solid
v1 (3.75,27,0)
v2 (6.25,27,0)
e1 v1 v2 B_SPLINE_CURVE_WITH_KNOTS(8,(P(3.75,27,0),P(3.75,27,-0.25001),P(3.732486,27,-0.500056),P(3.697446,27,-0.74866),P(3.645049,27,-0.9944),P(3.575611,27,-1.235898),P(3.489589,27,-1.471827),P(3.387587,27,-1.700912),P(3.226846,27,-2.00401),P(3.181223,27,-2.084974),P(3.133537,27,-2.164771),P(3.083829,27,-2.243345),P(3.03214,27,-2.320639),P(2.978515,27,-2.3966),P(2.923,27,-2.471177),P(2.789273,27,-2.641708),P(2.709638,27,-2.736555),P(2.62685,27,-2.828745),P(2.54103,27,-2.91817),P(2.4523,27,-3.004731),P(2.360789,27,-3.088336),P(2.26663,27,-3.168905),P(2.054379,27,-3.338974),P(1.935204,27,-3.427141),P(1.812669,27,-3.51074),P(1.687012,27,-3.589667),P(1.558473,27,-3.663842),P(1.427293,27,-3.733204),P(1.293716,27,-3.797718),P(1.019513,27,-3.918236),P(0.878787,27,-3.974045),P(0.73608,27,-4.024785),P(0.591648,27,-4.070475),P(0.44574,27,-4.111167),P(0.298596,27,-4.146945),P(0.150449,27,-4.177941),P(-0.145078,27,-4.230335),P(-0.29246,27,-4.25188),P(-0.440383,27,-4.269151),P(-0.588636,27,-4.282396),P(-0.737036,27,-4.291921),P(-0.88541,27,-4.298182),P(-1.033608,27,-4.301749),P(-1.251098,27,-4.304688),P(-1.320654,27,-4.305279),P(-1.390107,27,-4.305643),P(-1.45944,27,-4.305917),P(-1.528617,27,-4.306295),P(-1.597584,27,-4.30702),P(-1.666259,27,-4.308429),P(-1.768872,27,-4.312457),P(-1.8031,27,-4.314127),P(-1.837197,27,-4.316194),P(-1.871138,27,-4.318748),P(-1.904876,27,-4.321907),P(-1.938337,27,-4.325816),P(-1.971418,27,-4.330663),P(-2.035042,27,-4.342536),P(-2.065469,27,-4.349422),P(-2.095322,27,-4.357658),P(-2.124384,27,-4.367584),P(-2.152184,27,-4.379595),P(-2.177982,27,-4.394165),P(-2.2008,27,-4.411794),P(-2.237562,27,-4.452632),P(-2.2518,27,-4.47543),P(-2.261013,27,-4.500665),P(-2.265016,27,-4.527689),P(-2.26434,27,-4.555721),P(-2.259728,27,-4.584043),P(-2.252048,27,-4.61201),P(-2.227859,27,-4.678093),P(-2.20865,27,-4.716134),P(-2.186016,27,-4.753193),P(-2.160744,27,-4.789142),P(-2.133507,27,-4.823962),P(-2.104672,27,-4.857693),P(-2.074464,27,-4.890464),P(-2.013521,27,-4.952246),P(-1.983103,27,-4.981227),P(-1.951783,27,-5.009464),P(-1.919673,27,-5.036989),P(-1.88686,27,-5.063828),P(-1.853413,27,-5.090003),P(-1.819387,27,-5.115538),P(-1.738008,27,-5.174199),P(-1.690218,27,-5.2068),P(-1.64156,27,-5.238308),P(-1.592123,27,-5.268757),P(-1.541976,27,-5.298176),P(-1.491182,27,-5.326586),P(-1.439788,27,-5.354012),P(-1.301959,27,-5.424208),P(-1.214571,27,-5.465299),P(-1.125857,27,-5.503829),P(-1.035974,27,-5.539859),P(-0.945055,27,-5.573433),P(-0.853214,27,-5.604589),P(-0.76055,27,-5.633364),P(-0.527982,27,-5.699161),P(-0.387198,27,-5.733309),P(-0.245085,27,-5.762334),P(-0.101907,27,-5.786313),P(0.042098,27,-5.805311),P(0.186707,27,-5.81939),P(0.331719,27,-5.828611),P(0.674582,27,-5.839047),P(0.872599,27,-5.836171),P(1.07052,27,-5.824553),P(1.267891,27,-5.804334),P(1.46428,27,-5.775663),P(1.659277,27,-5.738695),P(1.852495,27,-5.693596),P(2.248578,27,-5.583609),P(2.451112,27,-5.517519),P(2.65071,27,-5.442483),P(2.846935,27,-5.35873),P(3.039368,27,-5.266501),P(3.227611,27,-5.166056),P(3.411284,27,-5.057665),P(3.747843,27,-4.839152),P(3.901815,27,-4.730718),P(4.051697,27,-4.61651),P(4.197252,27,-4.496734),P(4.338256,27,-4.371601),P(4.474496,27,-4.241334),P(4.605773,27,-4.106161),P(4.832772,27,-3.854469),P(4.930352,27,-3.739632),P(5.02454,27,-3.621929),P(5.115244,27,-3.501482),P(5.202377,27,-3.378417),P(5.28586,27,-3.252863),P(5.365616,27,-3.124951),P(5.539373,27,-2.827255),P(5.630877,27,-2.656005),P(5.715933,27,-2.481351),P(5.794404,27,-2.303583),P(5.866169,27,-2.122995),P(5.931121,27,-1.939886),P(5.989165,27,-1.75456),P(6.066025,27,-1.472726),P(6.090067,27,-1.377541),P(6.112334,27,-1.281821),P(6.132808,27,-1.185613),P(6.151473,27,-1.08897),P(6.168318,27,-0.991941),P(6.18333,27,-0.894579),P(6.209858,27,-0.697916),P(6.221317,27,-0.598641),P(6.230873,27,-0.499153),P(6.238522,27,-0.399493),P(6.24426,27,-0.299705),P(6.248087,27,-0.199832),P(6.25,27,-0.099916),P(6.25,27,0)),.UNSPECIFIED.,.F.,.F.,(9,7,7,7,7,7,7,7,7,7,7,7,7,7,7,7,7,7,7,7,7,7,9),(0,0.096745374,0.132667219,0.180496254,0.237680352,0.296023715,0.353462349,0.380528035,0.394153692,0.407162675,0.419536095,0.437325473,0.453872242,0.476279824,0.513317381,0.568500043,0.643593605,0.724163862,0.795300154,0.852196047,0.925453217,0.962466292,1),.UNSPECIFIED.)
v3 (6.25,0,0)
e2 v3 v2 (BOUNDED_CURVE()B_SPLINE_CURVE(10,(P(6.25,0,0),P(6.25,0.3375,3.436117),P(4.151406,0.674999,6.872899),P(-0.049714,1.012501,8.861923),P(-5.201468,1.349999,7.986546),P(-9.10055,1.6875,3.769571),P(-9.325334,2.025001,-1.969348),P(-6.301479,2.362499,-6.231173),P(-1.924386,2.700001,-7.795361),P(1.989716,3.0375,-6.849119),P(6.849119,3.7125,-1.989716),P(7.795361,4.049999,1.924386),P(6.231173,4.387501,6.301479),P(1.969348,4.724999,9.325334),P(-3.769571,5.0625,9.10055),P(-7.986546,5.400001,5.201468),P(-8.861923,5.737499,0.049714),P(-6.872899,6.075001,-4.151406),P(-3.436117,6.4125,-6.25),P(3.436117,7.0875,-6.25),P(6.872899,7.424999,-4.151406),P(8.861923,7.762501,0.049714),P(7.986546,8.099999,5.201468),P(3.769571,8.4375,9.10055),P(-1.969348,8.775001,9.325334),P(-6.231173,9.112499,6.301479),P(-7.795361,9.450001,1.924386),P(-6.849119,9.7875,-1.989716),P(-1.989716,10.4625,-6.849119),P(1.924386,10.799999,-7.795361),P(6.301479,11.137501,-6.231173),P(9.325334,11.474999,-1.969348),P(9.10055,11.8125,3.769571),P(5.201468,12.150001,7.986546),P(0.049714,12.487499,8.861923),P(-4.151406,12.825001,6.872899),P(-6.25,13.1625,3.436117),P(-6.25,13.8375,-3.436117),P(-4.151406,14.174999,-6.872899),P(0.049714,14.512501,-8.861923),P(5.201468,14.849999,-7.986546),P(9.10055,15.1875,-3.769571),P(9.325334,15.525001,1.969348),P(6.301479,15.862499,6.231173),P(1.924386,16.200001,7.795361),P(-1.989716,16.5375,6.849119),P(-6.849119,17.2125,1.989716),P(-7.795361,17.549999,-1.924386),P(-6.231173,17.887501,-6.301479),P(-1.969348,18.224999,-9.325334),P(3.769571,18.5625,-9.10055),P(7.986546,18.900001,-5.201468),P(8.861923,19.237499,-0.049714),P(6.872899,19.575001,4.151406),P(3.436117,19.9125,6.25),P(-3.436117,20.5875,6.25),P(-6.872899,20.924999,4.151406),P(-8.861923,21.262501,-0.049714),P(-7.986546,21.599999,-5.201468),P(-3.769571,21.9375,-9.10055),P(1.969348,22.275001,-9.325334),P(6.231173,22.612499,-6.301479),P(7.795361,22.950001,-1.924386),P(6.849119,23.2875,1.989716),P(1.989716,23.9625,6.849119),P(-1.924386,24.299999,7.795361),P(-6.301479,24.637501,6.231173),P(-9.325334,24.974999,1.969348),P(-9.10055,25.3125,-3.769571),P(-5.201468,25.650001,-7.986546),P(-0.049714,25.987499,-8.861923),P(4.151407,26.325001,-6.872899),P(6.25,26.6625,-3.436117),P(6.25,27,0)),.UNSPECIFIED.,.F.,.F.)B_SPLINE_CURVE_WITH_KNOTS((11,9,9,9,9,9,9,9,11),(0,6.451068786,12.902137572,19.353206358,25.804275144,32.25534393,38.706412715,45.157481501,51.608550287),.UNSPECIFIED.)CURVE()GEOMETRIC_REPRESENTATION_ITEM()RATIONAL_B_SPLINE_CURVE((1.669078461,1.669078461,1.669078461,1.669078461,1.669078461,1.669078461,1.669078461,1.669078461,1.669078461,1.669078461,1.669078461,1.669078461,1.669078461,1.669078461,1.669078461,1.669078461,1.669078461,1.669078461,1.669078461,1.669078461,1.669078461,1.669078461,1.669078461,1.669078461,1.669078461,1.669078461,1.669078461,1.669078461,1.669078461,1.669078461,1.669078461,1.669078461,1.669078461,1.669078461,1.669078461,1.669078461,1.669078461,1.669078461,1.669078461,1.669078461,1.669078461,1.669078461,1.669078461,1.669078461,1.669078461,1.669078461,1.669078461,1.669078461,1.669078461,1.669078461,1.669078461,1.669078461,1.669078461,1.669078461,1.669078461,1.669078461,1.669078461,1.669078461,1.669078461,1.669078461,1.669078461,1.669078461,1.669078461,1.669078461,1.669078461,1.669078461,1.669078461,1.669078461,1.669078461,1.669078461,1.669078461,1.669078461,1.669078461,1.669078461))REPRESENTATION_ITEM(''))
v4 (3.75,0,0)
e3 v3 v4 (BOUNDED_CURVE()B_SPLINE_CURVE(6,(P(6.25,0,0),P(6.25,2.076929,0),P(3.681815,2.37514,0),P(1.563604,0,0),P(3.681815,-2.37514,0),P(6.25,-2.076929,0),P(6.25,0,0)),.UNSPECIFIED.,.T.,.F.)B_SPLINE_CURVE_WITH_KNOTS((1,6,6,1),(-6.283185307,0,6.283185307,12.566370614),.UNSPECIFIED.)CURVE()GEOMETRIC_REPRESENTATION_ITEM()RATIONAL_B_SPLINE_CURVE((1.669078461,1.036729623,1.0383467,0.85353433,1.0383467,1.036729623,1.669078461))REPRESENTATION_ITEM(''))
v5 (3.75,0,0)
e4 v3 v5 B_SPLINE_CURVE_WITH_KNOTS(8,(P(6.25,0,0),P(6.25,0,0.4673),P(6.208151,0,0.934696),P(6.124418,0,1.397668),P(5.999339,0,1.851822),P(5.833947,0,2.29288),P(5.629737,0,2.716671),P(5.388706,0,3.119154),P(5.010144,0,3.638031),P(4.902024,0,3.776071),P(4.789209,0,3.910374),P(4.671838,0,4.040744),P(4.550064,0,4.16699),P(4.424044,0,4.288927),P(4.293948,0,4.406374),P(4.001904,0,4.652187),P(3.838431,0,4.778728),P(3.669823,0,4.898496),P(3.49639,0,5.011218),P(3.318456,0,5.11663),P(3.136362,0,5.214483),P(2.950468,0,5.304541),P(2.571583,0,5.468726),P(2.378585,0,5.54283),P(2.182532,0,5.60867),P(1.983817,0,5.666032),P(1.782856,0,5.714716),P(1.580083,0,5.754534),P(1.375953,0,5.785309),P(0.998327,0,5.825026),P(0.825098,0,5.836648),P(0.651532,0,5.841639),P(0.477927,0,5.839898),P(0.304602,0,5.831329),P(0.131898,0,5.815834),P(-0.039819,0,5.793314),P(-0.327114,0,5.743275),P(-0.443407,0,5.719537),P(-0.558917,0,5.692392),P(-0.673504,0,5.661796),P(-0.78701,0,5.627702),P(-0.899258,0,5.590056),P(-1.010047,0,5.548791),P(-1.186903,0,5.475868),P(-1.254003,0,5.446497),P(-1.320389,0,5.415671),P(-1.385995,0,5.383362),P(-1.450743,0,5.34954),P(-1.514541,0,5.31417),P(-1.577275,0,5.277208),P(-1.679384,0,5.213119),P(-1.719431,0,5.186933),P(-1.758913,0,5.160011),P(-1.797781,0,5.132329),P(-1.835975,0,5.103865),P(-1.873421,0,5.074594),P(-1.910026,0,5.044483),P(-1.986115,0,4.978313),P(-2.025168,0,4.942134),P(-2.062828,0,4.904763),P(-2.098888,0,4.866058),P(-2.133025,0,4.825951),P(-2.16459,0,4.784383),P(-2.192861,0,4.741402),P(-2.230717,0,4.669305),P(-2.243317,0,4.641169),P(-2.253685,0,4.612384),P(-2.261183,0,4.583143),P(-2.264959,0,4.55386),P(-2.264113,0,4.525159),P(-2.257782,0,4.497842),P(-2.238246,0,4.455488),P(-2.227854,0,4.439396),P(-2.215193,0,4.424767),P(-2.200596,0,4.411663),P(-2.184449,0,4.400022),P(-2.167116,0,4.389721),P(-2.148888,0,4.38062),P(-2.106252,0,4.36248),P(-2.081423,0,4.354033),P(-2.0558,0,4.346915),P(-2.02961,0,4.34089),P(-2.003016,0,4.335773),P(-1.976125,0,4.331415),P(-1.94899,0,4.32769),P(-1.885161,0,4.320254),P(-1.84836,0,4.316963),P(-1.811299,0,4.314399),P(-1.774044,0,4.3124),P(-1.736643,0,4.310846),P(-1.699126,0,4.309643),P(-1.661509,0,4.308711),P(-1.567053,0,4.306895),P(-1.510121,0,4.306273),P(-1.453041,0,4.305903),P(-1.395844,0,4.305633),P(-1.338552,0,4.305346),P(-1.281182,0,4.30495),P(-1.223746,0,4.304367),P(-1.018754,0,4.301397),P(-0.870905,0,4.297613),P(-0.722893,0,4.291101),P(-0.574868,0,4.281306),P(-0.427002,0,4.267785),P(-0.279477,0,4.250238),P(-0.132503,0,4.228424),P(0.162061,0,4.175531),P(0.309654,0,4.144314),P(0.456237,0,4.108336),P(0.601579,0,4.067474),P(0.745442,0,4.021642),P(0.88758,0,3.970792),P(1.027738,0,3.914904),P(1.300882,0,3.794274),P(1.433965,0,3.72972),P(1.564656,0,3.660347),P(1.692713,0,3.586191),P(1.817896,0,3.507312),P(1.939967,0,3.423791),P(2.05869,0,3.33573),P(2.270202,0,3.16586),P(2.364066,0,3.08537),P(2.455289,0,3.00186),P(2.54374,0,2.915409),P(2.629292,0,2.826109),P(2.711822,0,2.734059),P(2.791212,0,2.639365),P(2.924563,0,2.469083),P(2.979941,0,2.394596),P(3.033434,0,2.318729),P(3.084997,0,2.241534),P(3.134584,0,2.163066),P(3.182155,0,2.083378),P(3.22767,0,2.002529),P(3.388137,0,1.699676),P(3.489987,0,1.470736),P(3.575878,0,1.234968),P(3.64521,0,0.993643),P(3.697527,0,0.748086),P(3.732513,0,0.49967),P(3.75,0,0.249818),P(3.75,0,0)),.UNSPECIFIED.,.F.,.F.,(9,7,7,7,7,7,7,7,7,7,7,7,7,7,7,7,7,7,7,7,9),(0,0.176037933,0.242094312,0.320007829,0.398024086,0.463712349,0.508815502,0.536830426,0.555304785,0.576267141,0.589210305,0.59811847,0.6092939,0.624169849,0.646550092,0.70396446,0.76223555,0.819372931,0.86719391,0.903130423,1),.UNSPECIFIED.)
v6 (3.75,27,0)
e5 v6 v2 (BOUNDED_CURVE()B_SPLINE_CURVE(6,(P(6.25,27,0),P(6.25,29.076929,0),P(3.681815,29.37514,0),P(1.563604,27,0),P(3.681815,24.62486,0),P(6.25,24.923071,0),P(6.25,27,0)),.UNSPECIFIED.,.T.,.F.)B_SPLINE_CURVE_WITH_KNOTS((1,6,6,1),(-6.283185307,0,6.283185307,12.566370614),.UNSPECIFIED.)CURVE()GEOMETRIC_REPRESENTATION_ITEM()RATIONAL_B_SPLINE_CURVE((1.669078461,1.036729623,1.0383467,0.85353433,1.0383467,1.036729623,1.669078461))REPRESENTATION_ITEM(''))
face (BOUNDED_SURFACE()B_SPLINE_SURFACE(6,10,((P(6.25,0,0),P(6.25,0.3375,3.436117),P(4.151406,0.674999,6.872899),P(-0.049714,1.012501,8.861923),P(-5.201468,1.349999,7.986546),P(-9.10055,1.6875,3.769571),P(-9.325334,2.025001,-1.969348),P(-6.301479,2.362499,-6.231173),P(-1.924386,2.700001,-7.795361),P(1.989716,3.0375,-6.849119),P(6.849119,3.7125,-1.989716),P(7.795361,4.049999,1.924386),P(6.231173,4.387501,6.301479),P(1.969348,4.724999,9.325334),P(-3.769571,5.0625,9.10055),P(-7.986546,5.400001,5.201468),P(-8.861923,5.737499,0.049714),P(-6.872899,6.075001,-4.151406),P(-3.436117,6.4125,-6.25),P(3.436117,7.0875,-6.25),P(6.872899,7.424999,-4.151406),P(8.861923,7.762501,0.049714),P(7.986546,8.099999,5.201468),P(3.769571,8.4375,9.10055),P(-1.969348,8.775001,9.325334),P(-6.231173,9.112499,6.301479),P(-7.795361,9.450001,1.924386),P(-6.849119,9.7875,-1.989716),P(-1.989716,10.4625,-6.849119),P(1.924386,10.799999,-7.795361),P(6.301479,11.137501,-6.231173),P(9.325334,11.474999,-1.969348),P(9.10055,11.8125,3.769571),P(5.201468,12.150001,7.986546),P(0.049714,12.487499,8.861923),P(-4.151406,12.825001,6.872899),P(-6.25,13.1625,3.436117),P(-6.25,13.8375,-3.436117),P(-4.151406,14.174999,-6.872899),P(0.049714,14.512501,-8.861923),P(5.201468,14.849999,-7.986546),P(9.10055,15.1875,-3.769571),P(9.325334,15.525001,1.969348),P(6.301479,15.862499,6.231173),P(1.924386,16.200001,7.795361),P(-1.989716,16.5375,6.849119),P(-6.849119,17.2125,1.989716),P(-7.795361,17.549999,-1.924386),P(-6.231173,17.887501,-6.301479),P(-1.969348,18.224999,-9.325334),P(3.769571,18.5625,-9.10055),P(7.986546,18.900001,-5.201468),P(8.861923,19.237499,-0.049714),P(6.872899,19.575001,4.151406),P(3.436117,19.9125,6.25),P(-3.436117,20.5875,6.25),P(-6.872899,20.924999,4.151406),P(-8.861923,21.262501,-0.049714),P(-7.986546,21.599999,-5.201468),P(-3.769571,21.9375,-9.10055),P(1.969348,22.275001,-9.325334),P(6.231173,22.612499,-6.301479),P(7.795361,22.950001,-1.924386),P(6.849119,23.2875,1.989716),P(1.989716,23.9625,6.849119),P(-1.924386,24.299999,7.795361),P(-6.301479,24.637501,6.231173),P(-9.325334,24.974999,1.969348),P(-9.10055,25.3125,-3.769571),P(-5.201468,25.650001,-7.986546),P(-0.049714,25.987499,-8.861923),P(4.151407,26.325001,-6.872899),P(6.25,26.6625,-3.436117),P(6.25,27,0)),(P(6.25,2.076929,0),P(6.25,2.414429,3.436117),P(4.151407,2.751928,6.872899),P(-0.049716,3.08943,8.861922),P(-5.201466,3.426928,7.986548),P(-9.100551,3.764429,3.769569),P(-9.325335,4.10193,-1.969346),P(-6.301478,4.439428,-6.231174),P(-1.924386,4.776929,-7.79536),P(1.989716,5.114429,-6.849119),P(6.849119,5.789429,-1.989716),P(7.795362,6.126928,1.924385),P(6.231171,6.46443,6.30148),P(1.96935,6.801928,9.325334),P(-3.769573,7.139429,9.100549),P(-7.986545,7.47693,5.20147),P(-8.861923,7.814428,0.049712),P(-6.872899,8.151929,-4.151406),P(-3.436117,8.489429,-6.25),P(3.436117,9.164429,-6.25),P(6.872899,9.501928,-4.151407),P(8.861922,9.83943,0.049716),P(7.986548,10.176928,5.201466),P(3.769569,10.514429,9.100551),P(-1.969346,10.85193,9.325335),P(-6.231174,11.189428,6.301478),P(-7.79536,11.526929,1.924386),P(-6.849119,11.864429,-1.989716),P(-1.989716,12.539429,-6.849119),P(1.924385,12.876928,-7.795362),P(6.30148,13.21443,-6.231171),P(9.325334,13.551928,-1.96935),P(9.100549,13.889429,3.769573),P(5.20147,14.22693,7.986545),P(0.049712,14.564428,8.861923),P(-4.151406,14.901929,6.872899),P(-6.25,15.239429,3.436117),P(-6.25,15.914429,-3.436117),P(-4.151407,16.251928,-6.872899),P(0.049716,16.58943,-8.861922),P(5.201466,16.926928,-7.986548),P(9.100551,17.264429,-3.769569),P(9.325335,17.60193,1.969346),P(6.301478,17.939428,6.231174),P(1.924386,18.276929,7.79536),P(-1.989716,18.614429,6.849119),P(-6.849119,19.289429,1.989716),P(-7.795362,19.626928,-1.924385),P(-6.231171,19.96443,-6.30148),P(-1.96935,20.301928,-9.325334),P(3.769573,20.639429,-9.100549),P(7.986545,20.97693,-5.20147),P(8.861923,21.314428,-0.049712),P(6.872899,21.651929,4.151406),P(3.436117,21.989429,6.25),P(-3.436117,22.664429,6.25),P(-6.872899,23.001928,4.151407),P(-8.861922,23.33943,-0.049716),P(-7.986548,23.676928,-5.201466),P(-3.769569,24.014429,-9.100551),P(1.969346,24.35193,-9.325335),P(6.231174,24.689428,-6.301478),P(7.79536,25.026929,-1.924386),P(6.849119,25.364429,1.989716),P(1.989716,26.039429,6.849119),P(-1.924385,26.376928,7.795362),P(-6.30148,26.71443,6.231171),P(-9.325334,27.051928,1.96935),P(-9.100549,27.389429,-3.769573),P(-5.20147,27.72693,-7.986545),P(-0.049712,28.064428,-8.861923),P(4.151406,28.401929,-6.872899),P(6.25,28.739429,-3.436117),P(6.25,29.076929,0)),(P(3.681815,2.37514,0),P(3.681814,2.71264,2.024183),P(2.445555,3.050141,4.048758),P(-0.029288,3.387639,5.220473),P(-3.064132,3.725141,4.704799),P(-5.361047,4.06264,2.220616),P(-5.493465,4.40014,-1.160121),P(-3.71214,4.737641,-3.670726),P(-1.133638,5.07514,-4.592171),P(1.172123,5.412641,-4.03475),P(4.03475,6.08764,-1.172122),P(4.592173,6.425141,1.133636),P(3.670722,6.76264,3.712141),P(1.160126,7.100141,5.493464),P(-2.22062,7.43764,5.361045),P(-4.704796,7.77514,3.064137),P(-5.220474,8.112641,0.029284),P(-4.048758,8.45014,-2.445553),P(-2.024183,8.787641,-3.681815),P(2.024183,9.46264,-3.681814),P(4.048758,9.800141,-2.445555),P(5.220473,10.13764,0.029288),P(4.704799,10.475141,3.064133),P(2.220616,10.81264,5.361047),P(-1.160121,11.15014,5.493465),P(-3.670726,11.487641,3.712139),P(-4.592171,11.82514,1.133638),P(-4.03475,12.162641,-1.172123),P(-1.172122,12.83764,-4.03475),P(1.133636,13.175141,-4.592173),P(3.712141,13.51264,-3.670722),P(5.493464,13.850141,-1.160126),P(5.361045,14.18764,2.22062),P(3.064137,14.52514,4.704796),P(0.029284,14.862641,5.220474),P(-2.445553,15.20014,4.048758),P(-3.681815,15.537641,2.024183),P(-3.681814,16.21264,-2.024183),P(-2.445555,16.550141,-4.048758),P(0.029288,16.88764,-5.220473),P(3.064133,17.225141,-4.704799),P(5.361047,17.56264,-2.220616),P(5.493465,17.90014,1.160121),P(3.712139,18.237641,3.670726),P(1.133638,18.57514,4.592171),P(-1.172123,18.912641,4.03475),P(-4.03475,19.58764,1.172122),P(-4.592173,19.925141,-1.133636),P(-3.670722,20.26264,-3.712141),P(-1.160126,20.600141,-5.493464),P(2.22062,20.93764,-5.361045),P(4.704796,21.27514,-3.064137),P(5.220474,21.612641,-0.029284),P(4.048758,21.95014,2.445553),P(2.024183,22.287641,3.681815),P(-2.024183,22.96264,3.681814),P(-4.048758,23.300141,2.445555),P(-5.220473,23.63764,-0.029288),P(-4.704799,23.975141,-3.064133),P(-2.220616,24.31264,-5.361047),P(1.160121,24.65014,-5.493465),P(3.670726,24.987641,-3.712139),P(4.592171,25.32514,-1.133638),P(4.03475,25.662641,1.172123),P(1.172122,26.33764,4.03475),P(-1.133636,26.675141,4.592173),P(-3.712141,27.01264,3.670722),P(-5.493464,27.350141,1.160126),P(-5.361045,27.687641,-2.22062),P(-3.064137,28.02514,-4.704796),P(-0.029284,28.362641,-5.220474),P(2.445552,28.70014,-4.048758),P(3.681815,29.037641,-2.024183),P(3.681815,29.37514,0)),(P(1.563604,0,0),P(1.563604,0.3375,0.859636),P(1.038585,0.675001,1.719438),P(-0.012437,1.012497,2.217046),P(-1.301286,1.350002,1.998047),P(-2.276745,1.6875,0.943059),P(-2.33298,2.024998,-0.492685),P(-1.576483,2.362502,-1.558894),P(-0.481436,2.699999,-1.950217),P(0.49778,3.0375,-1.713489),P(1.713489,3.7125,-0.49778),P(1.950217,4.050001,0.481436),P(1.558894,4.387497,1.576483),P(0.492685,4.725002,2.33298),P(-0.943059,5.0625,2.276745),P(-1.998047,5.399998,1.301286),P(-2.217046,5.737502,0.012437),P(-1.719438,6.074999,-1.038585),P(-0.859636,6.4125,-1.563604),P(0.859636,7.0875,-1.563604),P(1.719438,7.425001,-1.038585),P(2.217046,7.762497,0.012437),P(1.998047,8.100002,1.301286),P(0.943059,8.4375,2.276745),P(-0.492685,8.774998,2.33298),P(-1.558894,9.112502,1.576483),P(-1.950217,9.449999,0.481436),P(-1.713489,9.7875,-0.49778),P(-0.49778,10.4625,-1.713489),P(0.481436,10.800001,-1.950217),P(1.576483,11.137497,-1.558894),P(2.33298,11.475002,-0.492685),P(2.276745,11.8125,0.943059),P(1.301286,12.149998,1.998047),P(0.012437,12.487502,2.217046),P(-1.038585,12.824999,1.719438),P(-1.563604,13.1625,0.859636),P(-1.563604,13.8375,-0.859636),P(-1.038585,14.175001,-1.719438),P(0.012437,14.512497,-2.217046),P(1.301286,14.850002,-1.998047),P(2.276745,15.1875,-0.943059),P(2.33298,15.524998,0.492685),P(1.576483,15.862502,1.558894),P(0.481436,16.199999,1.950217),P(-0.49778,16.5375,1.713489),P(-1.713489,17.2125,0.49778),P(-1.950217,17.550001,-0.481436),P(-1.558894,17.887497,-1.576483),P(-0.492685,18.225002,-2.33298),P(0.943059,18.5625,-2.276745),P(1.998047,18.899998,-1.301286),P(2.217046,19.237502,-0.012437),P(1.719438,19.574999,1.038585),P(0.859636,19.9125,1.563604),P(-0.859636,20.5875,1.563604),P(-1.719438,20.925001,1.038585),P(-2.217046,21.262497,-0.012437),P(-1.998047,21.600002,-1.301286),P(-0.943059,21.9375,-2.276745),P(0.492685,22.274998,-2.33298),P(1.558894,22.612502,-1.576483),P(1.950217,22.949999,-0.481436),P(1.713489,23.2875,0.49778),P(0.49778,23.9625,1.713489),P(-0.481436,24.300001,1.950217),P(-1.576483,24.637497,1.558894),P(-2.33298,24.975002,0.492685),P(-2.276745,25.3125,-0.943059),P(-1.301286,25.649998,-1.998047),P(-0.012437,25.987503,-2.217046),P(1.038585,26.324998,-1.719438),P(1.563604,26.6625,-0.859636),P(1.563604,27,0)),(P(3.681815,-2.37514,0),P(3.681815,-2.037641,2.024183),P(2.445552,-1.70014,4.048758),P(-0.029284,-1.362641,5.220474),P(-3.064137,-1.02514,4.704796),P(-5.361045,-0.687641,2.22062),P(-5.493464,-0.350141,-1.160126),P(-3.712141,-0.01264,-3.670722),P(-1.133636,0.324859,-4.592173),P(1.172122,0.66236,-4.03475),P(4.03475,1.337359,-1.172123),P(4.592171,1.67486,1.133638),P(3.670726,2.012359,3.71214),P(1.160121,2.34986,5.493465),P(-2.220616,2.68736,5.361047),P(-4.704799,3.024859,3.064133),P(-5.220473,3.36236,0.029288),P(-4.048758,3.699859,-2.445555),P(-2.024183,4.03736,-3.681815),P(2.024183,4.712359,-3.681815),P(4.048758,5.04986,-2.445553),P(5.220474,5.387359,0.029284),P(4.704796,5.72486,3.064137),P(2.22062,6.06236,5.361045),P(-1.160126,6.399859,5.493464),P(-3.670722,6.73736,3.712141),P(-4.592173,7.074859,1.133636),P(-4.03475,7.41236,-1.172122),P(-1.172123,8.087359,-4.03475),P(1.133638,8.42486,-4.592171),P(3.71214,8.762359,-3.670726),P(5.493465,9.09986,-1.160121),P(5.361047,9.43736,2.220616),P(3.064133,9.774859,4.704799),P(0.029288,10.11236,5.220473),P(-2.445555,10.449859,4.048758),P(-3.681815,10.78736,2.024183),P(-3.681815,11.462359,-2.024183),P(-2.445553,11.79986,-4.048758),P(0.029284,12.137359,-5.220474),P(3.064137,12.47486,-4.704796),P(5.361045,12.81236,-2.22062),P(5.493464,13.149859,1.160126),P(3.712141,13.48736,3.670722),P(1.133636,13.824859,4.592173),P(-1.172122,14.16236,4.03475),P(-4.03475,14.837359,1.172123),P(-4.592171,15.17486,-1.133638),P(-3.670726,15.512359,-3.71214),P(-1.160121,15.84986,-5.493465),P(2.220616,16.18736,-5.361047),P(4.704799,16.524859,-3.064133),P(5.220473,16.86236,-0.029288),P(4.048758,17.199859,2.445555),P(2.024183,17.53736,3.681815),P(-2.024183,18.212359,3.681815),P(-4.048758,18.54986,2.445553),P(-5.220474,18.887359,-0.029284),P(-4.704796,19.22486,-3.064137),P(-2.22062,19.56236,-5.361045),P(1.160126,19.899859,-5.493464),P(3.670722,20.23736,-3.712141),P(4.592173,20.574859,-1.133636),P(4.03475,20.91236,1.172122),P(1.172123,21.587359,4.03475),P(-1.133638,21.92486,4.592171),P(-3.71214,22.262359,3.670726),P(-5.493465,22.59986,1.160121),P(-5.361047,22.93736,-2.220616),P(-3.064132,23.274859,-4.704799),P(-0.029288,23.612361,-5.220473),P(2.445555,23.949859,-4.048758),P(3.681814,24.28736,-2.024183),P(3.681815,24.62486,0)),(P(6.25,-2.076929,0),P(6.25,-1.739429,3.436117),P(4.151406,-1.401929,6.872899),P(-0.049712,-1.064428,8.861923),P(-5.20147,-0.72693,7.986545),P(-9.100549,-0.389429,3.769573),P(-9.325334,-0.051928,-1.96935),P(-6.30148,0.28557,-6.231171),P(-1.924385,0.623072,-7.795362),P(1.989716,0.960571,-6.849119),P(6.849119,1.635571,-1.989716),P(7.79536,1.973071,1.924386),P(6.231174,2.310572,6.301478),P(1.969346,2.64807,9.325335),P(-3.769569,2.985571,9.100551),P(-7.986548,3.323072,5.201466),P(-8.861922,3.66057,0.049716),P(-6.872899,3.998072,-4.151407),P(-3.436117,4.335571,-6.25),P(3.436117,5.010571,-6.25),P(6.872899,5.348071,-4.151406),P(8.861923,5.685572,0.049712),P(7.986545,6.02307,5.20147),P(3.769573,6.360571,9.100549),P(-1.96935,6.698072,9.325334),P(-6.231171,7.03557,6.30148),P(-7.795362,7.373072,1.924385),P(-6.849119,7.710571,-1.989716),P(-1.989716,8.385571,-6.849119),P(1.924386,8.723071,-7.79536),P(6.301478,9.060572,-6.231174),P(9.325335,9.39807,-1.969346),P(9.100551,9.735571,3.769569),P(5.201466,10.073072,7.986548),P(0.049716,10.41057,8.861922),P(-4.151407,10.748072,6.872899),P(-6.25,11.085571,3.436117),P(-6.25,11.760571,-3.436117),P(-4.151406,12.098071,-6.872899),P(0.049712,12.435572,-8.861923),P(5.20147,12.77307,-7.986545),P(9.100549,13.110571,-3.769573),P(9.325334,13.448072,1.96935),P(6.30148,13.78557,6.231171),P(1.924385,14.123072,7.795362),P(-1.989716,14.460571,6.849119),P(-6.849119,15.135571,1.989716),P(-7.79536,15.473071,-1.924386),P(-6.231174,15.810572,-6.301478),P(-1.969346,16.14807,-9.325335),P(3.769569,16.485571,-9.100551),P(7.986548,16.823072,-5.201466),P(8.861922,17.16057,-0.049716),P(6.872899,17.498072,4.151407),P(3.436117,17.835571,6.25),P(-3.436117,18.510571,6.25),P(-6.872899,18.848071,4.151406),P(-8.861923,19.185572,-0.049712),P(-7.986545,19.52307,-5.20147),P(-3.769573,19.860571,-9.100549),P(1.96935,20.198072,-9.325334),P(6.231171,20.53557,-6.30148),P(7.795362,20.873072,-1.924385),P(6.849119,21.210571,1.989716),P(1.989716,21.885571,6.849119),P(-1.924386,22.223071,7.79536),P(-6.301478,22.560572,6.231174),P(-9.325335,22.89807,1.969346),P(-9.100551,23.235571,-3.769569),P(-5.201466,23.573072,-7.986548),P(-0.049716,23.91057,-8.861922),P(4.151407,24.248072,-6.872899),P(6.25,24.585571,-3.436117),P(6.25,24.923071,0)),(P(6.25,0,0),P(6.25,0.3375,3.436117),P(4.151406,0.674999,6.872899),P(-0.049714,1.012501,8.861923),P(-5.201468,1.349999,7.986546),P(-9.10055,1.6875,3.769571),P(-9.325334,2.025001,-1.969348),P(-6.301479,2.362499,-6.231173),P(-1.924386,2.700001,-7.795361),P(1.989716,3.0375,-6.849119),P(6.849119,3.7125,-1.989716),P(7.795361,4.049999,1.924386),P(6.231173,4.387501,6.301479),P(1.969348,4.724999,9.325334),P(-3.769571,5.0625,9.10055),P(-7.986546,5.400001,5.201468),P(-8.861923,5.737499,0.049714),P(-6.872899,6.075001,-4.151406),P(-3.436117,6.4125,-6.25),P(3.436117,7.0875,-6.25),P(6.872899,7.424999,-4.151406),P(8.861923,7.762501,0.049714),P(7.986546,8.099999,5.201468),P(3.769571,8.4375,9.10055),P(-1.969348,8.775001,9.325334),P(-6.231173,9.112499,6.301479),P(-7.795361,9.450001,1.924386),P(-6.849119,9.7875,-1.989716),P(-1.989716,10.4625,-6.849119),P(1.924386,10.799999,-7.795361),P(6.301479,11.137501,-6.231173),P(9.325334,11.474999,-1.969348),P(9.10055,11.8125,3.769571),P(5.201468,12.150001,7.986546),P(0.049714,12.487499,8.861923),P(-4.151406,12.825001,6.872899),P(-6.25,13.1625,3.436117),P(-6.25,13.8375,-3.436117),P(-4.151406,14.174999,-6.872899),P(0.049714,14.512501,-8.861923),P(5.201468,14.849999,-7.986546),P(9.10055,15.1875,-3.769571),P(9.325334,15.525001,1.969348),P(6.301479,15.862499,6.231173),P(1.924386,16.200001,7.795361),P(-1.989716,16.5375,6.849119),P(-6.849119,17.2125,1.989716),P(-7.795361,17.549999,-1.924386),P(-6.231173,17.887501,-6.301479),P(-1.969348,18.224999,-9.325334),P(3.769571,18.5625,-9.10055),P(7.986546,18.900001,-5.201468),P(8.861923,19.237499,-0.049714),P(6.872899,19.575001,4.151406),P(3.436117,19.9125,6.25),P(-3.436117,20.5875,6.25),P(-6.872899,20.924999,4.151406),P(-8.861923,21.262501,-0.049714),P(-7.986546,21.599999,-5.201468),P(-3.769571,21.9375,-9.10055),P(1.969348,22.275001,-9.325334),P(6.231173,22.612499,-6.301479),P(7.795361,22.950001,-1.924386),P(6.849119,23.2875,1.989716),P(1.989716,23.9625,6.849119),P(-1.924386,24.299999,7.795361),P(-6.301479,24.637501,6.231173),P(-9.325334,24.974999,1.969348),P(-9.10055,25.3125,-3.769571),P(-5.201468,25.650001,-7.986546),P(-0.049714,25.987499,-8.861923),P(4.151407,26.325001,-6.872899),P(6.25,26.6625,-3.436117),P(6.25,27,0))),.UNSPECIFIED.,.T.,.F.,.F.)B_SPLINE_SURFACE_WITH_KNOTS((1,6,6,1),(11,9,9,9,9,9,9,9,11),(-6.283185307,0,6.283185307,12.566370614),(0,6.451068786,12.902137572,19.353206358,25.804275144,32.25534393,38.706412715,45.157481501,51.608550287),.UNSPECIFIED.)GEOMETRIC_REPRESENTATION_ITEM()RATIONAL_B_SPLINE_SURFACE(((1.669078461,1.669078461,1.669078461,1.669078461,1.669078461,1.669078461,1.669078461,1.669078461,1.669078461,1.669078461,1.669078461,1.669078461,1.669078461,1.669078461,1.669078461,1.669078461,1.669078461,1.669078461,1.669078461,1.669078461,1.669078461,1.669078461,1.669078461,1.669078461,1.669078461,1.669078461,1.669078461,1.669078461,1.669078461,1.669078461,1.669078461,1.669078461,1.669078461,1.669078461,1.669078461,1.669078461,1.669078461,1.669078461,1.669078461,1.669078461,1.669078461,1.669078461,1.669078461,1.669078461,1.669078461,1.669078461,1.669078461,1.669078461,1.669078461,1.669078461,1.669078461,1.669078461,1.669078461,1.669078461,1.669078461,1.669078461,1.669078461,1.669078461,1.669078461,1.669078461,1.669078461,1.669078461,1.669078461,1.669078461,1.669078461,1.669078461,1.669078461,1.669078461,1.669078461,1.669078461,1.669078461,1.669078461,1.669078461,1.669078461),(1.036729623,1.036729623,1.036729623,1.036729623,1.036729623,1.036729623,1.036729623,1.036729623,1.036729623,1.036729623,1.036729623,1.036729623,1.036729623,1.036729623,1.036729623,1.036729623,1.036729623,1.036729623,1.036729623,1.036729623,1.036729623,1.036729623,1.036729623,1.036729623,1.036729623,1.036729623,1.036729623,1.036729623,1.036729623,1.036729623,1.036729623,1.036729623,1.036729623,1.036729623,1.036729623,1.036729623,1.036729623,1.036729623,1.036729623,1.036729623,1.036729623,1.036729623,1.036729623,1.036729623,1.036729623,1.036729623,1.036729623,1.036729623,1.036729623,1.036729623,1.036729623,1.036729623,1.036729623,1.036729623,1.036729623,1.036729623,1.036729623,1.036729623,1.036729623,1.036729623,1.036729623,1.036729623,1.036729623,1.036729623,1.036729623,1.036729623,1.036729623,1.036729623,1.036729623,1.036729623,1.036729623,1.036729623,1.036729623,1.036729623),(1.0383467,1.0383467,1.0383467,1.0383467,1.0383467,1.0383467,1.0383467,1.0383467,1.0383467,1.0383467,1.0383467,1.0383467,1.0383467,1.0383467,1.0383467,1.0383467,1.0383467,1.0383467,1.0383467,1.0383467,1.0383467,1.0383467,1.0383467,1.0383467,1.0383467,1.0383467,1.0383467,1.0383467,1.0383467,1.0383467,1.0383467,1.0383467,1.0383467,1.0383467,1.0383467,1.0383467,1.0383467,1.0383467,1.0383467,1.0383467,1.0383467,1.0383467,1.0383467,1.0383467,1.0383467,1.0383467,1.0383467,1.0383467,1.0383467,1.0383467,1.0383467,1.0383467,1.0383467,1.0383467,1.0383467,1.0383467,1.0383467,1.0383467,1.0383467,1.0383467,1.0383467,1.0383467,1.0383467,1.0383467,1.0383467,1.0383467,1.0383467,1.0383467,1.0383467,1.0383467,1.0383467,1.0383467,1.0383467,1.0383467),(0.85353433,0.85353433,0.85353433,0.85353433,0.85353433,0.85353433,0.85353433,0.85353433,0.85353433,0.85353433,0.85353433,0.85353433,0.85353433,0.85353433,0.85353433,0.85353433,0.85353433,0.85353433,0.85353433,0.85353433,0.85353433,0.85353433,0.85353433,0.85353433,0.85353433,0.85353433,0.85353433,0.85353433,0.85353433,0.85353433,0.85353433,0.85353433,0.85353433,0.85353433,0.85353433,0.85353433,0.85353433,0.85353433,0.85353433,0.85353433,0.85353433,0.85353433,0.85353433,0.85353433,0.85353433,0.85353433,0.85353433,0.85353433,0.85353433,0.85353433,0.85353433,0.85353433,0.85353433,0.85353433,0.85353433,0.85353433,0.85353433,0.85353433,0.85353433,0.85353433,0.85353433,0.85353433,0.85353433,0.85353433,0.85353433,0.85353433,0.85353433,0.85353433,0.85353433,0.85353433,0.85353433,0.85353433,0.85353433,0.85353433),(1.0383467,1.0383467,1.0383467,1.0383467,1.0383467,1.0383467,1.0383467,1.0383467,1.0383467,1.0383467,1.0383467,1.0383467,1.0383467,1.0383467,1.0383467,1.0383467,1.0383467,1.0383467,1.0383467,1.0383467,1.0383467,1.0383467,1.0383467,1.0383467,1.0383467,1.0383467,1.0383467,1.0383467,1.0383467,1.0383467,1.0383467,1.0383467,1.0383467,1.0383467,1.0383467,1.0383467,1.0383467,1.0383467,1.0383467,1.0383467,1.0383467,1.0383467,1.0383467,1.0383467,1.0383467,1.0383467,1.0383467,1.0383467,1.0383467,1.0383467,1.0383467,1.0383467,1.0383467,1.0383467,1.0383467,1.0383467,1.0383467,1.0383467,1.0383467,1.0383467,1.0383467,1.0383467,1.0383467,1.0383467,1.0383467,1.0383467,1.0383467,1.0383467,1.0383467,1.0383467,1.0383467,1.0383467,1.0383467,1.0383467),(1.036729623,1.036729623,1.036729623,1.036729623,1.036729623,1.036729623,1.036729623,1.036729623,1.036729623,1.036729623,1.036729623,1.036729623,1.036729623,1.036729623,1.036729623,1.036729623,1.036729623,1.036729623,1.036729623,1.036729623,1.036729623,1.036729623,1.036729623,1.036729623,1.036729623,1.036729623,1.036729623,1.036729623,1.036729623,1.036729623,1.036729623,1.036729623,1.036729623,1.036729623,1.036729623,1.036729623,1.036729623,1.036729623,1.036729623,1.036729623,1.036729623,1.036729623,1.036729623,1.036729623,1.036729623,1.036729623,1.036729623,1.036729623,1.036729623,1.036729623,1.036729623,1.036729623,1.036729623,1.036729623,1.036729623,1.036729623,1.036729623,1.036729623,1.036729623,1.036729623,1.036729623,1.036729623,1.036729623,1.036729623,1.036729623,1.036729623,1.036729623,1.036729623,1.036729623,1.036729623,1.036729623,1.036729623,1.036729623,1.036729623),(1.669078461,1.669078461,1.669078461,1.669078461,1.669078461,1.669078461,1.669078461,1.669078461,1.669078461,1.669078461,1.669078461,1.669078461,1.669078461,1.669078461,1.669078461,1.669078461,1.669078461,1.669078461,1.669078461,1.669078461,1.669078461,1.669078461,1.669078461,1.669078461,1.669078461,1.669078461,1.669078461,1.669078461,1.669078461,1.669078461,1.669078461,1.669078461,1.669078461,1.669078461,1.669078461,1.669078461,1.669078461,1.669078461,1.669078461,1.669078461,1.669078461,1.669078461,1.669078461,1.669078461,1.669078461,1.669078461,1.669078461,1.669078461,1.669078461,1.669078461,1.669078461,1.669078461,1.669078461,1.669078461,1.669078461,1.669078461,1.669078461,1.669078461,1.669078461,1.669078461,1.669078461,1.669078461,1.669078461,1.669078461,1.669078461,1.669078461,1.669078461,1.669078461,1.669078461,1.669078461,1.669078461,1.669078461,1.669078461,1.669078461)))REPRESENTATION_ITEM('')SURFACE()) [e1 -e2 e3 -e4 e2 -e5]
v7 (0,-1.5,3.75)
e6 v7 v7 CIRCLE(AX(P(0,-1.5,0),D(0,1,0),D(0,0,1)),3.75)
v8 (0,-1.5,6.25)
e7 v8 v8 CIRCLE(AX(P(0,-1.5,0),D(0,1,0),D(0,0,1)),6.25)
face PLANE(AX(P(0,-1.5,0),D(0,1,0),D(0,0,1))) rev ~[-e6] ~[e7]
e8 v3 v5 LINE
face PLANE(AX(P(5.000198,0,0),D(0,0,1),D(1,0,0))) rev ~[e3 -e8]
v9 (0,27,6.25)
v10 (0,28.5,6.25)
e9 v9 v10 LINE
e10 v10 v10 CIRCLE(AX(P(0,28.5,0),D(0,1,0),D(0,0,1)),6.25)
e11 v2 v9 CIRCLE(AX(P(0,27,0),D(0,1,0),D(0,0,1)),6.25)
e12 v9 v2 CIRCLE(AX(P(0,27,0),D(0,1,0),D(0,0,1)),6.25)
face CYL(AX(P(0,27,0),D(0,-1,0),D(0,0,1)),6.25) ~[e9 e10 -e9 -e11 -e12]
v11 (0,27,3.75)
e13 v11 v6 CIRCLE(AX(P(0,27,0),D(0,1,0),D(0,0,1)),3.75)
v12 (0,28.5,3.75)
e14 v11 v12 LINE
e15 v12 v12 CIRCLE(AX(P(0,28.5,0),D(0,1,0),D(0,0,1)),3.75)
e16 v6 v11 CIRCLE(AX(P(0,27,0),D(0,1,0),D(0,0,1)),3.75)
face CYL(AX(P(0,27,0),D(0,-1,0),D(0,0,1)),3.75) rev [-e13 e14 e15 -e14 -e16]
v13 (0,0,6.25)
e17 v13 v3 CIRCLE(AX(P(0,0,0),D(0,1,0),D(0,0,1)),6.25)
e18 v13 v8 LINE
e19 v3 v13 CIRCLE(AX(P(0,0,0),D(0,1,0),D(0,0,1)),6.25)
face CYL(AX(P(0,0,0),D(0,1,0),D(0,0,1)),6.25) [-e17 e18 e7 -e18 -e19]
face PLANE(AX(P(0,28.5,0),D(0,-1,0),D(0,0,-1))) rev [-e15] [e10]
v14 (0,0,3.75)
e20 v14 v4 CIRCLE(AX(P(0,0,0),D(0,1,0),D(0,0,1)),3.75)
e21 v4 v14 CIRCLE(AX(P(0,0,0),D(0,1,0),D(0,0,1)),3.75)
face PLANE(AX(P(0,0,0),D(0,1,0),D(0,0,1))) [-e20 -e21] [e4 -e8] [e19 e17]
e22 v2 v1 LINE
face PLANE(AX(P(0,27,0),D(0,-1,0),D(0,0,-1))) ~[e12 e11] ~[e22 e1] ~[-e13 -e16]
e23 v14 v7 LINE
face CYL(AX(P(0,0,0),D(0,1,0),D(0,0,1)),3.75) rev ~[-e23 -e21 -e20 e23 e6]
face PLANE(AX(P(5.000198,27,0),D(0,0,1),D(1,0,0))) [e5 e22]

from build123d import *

# Parameters (mm, degrees)
SWEEP1_PITCH        = 3.857142857
SWEEP1_HEIGHT       = 27
SWEEP1_RADIUS       = 5
SWEEP1_START_ANGLE  = 90
SKETCH2_R           = 1.25
SKETCH3_R           = 6.25
SKETCH3_R_2         = 3.75
BOSS_EXTRUDE1_DEPTH = 1.5


with BuildPart() as part:
    # Sweep1: sweep along a helix
    with BuildLine() as sweep1_path:
        add(Helix(SWEEP1_PITCH, SWEEP1_HEIGHT, SWEEP1_RADIUS, center=(0, 0, 0), direction=(0, 1, 0), lefthand=True, mode=Mode.PRIVATE).rotate(Axis((0, 0, 0), (0, 1, 0)), SWEEP1_START_ANGLE))
    # Sketch2 → Sweep1 (sweep)
    with BuildSketch(Plane.XY):
        with Locations((5, 0)):
            Circle(SKETCH2_R)
    sweep(path=sweep1_path.line, is_frenet=True)

    # Sketch3 → Boss-Extrude1 (add)
    with BuildSketch(Plane(origin=(0, 0, 0), x_dir=(1, 0, 0), z_dir=(0, 1, 0))):
        with Locations(Location((0, 0, 0), (0, 0, 270))):
            Circle(SKETCH3_R)
        with Locations(Location((0, 0, 0), (0, 0, 270))):
            Circle(SKETCH3_R_2, mode=Mode.SUBTRACT)
    boss_extrude1 = extrude(amount=-BOSS_EXTRUDE1_DEPTH)

    # Mirror1: Boss-Extrude1 across plane
    add(boss_extrude1.mirror(Plane.ZX.offset(13.5)))


solid = part.part
